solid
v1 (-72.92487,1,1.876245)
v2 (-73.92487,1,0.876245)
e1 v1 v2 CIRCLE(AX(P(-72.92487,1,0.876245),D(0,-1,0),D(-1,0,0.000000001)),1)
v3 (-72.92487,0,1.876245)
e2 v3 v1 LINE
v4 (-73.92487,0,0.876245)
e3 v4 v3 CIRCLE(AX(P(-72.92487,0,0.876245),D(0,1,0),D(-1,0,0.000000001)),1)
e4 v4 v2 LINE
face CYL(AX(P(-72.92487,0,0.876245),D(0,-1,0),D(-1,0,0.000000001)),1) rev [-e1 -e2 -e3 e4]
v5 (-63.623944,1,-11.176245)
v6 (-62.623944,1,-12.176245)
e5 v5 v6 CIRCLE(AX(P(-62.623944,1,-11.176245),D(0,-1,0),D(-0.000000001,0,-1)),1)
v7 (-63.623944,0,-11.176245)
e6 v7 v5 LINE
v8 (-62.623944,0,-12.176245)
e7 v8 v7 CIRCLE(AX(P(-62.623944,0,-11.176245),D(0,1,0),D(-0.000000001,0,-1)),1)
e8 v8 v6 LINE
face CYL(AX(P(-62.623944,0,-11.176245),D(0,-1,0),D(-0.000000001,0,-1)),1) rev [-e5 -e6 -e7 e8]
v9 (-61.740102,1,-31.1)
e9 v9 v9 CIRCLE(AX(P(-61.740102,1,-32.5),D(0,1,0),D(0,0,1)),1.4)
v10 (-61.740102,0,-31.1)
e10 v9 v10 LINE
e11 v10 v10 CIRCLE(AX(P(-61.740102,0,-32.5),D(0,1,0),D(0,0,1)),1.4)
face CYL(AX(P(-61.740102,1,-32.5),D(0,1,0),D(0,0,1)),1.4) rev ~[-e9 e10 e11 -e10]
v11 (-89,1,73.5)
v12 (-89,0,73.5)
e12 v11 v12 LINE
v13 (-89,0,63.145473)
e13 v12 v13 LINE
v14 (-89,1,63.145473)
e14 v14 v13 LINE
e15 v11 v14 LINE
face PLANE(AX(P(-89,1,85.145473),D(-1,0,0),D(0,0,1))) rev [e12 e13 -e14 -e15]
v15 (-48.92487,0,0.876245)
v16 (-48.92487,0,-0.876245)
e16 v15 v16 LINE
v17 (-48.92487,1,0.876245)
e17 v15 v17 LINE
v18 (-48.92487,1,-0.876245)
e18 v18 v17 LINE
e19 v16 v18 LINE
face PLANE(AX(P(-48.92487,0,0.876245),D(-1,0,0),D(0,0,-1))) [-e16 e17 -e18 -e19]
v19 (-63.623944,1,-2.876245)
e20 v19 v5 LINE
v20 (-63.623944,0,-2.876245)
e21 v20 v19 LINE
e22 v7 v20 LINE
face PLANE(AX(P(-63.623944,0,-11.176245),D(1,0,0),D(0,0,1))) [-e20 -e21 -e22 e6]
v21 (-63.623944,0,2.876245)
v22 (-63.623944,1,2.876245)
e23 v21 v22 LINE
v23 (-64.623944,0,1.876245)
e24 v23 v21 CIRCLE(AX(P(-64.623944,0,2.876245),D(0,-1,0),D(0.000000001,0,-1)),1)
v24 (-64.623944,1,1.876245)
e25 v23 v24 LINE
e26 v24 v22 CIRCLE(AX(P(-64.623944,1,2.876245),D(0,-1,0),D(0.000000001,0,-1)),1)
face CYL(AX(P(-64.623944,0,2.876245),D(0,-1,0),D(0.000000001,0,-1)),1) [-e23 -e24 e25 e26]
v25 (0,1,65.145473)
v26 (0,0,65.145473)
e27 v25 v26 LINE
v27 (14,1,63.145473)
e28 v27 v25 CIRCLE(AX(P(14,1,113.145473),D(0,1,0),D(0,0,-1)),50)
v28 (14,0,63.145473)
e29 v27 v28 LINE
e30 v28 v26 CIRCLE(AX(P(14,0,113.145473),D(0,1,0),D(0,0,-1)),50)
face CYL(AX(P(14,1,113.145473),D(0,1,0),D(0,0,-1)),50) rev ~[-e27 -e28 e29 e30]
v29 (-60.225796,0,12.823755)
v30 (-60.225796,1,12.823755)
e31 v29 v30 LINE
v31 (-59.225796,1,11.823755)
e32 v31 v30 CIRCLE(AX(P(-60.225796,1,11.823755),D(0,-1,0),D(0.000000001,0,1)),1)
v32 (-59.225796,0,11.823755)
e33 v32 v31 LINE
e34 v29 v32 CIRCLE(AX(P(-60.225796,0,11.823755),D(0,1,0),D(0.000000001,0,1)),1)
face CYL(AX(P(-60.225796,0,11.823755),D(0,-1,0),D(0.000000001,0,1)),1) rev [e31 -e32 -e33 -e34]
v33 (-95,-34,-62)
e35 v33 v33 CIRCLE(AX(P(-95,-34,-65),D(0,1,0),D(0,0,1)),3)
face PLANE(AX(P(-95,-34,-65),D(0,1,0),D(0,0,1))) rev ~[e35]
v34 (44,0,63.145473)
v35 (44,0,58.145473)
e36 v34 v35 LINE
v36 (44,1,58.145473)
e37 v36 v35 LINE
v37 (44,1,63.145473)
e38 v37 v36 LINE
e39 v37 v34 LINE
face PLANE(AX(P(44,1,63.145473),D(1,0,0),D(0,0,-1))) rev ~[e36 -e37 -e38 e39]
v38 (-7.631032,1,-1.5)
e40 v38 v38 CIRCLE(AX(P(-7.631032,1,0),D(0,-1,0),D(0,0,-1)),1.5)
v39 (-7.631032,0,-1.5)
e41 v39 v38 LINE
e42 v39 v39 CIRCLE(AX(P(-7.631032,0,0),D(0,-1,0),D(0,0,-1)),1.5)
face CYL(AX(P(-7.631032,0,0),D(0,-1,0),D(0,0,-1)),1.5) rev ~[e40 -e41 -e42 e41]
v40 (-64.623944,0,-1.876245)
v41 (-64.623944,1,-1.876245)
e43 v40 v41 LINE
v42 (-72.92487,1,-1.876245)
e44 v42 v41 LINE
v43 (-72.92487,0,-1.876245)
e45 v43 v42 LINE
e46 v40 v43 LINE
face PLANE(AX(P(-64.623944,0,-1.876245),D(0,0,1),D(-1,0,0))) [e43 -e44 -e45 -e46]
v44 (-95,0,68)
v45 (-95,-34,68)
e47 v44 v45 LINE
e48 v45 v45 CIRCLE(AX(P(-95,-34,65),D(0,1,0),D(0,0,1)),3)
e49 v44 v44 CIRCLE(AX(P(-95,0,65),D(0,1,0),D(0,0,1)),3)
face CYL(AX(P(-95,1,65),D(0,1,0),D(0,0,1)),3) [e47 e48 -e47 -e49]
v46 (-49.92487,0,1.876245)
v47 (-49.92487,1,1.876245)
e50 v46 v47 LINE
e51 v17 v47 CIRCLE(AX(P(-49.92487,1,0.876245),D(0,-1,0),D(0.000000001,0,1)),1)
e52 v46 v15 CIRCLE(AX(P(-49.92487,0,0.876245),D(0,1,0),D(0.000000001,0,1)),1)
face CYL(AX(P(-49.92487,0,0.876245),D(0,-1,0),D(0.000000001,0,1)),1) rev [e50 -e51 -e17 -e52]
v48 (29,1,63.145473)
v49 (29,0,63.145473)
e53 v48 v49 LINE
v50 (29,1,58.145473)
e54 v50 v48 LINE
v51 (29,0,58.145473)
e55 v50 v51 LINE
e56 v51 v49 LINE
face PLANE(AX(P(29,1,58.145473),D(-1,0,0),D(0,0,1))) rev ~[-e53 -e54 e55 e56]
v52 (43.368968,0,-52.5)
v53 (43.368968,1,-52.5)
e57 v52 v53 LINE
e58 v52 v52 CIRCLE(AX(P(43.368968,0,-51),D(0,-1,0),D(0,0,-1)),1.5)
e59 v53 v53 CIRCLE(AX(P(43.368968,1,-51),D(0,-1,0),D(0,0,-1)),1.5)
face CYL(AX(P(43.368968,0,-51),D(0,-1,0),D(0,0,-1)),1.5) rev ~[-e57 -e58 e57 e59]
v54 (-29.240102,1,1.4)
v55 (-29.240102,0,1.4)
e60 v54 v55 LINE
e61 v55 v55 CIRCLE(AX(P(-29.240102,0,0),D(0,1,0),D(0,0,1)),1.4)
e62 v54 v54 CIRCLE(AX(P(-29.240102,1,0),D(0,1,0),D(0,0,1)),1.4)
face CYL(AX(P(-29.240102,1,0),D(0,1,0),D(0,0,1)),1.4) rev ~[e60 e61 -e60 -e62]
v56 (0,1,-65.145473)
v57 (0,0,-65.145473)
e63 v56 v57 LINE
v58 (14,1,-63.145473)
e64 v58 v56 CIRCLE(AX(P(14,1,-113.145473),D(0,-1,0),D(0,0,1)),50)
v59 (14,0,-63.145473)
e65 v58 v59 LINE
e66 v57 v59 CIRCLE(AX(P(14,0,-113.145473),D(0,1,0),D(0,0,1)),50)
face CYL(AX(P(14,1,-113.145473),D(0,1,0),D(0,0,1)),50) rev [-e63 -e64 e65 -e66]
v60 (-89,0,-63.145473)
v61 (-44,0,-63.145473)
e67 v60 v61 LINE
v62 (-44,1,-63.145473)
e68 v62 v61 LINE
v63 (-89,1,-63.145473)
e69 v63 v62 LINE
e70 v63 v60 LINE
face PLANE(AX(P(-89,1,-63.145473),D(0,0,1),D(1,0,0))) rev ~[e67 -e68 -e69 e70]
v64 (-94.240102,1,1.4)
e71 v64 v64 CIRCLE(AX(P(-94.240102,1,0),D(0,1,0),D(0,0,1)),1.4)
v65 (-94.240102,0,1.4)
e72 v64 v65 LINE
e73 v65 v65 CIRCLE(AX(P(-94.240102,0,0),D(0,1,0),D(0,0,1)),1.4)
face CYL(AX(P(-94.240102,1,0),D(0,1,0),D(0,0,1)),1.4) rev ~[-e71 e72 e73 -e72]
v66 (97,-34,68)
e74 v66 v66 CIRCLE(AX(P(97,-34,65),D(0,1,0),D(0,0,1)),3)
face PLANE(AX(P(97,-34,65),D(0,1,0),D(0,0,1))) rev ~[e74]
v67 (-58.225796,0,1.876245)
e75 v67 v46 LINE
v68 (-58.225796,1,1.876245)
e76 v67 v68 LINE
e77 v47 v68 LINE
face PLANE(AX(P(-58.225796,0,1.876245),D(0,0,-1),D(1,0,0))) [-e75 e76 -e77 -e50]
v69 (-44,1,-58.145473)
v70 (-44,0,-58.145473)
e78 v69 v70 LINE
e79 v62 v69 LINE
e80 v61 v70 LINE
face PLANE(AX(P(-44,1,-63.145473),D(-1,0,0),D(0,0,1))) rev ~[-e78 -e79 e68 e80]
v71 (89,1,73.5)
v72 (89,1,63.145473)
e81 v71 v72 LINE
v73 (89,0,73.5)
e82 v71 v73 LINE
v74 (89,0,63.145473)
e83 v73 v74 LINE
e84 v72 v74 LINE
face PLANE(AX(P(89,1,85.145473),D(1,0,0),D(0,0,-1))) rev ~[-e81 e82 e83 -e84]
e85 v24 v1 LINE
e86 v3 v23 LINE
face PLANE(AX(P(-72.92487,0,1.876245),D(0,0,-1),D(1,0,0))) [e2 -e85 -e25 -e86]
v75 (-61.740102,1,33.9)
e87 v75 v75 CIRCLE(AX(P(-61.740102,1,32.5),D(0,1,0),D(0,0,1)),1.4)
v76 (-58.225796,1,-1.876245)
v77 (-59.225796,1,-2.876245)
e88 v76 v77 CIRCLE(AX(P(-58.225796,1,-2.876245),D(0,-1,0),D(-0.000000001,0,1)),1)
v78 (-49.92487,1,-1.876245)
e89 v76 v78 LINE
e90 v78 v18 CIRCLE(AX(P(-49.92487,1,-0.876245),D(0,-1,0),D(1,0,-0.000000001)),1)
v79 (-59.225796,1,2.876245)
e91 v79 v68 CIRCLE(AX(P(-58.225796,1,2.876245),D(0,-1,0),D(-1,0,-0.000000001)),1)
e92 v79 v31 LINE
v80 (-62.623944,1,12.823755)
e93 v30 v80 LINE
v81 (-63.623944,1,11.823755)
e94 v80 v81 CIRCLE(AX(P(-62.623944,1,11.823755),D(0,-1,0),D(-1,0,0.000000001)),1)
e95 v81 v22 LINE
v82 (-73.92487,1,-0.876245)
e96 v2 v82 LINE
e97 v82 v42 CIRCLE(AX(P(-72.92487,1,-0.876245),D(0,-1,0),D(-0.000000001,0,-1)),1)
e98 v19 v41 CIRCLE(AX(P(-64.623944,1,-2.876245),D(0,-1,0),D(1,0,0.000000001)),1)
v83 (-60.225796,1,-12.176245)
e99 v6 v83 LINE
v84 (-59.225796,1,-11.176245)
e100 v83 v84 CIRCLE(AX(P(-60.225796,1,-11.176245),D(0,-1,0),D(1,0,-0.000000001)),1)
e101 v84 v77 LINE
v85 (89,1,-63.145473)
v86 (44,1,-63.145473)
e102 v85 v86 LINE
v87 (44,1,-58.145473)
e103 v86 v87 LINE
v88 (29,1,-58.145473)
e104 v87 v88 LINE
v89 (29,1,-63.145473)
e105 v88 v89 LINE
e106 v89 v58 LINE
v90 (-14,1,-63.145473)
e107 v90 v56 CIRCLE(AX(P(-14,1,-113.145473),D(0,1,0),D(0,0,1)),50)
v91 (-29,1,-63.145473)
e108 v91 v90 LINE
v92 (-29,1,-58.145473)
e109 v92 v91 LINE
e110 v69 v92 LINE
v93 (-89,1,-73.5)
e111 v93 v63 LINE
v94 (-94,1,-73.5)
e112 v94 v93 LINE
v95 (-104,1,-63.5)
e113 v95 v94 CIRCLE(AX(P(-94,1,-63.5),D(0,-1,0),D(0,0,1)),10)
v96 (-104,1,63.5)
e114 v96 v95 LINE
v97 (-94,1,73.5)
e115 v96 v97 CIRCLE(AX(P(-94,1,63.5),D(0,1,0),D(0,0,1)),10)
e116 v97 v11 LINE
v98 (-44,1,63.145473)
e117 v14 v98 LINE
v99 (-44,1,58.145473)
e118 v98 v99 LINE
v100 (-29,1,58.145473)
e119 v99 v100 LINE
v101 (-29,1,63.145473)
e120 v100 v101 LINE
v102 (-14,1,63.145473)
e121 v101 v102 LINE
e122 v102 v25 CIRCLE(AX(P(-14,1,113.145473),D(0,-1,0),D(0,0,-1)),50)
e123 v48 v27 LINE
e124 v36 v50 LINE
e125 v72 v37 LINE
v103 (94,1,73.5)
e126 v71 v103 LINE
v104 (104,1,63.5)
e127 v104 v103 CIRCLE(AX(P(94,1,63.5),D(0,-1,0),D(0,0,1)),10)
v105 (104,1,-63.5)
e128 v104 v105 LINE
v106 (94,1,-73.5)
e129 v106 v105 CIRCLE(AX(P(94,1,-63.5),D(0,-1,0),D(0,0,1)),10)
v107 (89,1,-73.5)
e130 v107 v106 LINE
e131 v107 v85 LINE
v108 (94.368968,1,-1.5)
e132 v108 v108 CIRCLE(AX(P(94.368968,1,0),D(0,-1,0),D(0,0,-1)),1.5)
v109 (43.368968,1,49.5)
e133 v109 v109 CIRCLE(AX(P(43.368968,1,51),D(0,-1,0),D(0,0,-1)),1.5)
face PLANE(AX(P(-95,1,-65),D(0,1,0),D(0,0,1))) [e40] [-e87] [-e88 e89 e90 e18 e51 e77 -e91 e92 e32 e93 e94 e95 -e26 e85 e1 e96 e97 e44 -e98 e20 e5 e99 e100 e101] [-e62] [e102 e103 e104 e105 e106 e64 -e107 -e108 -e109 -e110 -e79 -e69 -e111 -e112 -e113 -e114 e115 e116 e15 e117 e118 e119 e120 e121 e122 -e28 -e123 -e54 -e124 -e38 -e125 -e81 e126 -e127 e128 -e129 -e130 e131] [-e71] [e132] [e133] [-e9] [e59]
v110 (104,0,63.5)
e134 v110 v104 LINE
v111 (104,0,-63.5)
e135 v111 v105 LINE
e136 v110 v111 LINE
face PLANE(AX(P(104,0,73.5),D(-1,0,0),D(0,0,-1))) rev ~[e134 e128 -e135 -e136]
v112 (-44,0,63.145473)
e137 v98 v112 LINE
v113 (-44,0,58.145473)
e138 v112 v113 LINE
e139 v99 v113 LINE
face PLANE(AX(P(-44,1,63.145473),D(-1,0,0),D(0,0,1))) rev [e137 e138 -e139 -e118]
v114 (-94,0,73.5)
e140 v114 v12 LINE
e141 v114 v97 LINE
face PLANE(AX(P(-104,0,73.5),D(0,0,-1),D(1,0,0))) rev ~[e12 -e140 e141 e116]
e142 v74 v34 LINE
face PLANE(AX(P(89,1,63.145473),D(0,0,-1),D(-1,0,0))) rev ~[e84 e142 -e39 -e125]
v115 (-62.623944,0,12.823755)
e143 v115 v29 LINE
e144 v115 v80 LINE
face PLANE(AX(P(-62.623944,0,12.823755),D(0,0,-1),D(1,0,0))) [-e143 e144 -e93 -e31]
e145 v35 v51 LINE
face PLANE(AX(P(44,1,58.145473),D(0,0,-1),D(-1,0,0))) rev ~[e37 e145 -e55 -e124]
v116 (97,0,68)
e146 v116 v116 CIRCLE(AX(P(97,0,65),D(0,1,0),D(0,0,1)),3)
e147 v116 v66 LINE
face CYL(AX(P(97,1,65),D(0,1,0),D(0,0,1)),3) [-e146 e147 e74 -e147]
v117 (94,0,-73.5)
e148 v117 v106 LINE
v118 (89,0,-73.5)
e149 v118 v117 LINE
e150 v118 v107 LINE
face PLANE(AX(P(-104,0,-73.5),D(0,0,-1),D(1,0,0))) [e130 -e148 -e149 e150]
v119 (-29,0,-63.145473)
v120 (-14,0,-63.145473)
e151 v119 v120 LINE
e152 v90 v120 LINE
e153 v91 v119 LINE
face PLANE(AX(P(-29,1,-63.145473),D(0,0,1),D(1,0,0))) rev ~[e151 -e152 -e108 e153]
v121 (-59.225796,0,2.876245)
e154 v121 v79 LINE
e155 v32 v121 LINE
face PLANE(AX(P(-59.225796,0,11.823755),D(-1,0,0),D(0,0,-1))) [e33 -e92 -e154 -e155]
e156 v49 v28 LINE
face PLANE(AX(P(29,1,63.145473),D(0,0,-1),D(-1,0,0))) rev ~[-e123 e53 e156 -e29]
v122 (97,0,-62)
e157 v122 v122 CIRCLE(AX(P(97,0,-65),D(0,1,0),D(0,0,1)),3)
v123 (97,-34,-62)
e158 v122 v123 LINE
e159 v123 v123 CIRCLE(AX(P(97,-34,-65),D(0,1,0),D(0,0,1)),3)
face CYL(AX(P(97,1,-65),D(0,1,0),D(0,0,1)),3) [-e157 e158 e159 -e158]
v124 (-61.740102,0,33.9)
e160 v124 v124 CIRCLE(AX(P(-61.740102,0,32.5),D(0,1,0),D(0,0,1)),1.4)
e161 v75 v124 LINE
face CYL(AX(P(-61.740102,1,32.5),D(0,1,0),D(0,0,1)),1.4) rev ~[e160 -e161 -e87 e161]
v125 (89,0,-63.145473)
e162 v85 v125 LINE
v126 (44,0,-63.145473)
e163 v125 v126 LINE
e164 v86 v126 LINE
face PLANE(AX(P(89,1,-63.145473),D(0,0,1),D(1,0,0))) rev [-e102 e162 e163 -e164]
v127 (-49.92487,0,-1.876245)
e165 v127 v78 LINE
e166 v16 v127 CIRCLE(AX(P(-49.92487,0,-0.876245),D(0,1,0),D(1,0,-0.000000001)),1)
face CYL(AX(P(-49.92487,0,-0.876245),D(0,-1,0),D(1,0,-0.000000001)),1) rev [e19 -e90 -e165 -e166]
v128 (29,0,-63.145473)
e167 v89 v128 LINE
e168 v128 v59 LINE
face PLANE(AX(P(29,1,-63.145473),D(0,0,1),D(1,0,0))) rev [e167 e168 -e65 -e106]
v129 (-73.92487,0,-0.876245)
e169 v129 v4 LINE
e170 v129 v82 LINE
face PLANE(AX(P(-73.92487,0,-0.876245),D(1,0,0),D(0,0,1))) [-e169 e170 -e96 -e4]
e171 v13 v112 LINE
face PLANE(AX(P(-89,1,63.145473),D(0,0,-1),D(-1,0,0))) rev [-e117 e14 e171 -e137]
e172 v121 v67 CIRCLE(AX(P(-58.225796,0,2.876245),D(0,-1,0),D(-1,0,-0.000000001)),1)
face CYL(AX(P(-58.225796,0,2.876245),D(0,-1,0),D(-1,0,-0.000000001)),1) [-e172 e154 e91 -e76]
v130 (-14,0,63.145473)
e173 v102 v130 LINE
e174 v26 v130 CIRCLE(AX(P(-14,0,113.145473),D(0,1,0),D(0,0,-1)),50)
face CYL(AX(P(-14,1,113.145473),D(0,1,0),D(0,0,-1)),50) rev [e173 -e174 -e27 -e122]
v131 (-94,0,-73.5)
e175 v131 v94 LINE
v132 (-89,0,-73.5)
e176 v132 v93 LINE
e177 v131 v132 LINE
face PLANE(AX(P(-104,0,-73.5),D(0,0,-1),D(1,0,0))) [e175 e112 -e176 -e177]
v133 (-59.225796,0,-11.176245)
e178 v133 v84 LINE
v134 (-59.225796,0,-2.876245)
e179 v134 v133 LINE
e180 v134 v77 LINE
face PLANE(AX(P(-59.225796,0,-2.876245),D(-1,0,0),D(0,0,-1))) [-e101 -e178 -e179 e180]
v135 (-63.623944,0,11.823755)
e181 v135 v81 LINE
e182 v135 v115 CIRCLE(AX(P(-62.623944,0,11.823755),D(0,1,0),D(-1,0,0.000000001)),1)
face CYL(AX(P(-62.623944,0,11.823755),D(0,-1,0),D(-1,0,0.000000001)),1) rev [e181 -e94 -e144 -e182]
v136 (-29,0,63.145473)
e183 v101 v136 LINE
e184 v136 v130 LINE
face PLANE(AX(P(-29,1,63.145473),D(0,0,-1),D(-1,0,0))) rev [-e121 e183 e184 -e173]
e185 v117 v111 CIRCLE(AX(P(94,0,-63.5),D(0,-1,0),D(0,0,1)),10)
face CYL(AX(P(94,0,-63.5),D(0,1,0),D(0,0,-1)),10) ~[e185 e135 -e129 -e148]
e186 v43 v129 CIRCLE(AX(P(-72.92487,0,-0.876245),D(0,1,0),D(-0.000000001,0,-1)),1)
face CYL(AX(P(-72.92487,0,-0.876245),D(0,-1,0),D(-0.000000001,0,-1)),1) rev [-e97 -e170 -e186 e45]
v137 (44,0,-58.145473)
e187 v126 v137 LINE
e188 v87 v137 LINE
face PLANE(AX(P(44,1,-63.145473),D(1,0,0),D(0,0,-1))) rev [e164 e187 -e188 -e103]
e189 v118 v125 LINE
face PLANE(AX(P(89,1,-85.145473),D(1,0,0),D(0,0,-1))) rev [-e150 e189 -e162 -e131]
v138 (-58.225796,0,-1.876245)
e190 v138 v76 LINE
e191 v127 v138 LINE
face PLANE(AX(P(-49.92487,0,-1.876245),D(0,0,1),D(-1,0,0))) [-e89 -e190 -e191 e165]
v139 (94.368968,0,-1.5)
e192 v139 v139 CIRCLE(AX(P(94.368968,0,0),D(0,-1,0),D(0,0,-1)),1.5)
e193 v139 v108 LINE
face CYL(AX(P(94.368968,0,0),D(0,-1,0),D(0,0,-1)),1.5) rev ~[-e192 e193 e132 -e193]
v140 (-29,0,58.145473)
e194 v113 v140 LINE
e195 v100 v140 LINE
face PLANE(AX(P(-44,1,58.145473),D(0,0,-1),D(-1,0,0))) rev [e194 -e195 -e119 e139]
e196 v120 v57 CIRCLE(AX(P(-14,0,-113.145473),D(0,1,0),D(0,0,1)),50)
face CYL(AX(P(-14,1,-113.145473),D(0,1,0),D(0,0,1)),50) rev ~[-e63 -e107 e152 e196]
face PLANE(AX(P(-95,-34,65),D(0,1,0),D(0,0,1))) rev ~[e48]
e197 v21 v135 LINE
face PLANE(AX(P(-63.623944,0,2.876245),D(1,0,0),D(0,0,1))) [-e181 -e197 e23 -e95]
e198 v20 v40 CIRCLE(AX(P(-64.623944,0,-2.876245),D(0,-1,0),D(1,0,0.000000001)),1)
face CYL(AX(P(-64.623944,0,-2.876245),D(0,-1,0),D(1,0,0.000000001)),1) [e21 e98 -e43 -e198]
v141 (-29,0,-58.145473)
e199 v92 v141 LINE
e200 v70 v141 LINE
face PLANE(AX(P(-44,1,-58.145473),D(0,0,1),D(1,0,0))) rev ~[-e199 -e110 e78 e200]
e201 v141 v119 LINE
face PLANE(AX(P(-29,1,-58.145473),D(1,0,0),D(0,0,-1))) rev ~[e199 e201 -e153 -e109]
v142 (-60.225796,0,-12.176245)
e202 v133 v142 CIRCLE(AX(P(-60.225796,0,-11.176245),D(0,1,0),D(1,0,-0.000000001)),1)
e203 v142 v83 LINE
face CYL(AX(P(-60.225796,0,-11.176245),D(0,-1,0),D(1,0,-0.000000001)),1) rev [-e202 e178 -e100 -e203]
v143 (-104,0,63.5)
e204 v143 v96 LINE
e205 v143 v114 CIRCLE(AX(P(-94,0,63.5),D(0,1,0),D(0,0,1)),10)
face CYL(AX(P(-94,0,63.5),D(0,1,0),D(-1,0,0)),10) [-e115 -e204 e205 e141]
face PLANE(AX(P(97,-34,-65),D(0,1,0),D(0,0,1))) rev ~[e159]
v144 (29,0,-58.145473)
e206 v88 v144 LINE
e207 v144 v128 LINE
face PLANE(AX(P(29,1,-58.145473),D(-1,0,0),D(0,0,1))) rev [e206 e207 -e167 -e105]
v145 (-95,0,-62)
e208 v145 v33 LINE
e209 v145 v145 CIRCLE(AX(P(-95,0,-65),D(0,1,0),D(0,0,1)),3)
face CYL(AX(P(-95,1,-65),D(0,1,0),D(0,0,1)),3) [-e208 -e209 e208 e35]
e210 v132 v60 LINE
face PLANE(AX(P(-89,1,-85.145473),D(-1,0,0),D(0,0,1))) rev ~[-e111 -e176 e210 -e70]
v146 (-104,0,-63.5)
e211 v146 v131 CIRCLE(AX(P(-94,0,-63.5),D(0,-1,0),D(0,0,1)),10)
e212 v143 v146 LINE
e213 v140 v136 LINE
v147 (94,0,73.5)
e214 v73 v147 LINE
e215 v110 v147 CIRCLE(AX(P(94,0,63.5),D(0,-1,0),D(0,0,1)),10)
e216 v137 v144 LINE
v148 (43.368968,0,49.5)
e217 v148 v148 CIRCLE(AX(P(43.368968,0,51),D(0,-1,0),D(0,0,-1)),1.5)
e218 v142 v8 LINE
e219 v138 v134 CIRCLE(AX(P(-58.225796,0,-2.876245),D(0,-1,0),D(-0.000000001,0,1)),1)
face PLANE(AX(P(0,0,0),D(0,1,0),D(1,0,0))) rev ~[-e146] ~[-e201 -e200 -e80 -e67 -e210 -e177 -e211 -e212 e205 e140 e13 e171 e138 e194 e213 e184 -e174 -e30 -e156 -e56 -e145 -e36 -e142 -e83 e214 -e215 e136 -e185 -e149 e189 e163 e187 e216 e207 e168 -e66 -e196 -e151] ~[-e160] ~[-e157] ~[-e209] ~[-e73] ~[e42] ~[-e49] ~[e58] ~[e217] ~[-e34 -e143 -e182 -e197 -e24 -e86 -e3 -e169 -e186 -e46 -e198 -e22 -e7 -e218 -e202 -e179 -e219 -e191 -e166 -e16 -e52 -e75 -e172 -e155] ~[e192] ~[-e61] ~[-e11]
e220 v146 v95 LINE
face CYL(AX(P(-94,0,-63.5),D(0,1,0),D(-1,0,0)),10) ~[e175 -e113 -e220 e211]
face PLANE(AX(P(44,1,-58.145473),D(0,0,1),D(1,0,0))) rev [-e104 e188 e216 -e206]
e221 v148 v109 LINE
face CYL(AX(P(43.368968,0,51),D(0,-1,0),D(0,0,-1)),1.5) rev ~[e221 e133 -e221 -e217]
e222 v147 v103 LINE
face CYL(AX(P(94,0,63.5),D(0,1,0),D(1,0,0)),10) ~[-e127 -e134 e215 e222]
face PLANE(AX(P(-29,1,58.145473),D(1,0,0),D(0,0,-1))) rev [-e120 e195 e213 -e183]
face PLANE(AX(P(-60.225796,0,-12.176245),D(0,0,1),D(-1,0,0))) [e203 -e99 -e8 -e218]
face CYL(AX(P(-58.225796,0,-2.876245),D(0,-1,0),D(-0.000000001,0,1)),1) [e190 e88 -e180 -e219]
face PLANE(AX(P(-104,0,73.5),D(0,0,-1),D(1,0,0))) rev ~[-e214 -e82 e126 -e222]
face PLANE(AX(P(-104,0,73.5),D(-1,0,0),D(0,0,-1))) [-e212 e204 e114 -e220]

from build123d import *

# Parameters (mm, degrees)
SKETCH1_W            = 208
SKETCH1_H            = 147
BOSS_EXTRUDE1_DEPTH  = 1
CUT_EXTRUDE1_DEPTH   = 128.354819304
MIRROR2_COPY_1_DEPTH = 128.354819304
FILLET1_R            = 10
CUT_EXTRUDE2_DEPTH   = 128.354819304
SKETCH7_R            = 1.5
CUT_EXTRUDE3_DEPTH   = 128.354819304
SKETCH8_R            = 3
BOSS_EXTRUDE3_DEPTH  = 35
SKETCH9_R            = 1.4
CUT_EXTRUDE4_DEPTH   = 60


with BuildPart() as part:
    # Sketch1 → Boss-Extrude1 (new body)
    with BuildSketch(Plane(origin=(0, 0, 0), x_dir=(1, 0, 0), z_dir=(0, 1, 0))):
        Rectangle(SKETCH1_W, SKETCH1_H)
    extrude(amount=BOSS_EXTRUDE1_DEPTH)

    # Sketch3 → Cut-Extrude1 (cut, through all)
    with BuildSketch(Plane(origin=(0, 1, 0), x_dir=(1, 0, 0), z_dir=(0, 1, 0))):
        with BuildLine():
            Line((-89, 83.145473262), (-89, 63.145473262))
            Line((-89, 63.145473262), (-44, 63.145473262))
            Line((-44, 63.145473262), (-44, 58.145473262))
            Line((-44, 58.145473262), (-29, 58.145473262))
            Line((-29, 58.145473262), (-29, 63.145473262))
            Line((-29, 63.145473262), (-14, 63.145473262))
            ThreePointArc((-14, 63.145473262), (-6.928932188, 63.647998579), (0, 65.145473262))
            Line((0, 65.145473262), (0, 85.145473262))
            Line((0, 85.145473262), (-89, 85.145473262))
            Line((-89, 85.145473262), (-89, 83.145473262))
        make_face()
    cut_extrude1 = extrude(amount=-CUT_EXTRUDE1_DEPTH, mode=Mode.SUBTRACT)

    # Mirror1: Cut-Extrude1 across plane
    add(cut_extrude1.mirror(Plane.XY), mode=Mode.SUBTRACT)

    # Mirror2: Cut-Extrude1 across plane
    add(cut_extrude1.mirror(Plane(origin=(0, 0, 0), x_dir=(0, 0, 1), z_dir=(1, 0, 0))), mode=Mode.SUBTRACT)

    # Mirror2 copy 1 sketch → Mirror2 copy 1 (cut, through all)
    with BuildSketch(Plane(origin=(0, 1, 0), x_dir=(-1, 0, 0), z_dir=(0, 1, 0))):
        with BuildLine():
            Line((-89, 83.145473262), (-89, 63.145473262))
            Line((-89, 63.145473262), (-44, 63.145473262))
            Line((-44, 63.145473262), (-44, 58.145473262))
            Line((-44, 58.145473262), (-29, 58.145473262))
            Line((-29, 58.145473262), (-29, 63.145473262))
            Line((-29, 63.145473262), (-14, 63.145473262))
            ThreePointArc((-14, 63.145473262), (-6.928932188, 63.647998579), (0, 65.145473262))
            Line((0, 65.145473262), (0, 85.145473262))
            Line((0, 85.145473262), (-89, 85.145473262))
            Line((-89, 85.145473262), (-89, 83.145473262))
        make_face()
    extrude(amount=-MIRROR2_COPY_1_DEPTH, mode=Mode.SUBTRACT)

    # Fillet1
    fillet1_edges = [part.edges().sort_by_distance(p)[0] for p in [
        (104, 0.5, 73.5),
        (-104, 0.5, 73.5),
        (-104, 0.5, -73.5),
        (104, 0.5, -73.5),
    ]]
    fillet(fillet1_edges, radius=FILLET1_R)

    # Sketch4 → Cut-Extrude2 (cut, through all)
    with BuildSketch(Plane.XZ):
        with BuildLine():
            Line((-58.225796132, 1.876244538), (-49.924870206, 1.876244538))
            ThreePointArc((-49.924870206, 1.876244538), (-49.217763425, 1.583351319), (-48.924870206, 0.876244538))
            Line((-48.924870206, 0.876244538), (-48.924870206, -0.876244538))
            ThreePointArc((-48.924870206, -0.876244538), (-49.217763425, -1.583351319), (-49.924870206, -1.876244538))
            Line((-49.924870206, -1.876244538), (-58.225796132, -1.876244538))
            ThreePointArc((-58.225796132, -1.876244538), (-58.932902913, -2.169137757), (-59.225796132, -2.876244538))
            Line((-59.225796132, -2.876244538), (-59.225796132, -11.176244538))
            ThreePointArc((-59.225796132, -11.176244538), (-59.518689351, -11.883351319), (-60.225796132, -12.176244538))
            Line((-60.225796132, -12.176244538), (-62.62394428, -12.176244538))
            ThreePointArc((-62.62394428, -12.176244538), (-63.331051061, -11.883351319), (-63.62394428, -11.176244538))
            Line((-63.62394428, -11.176244538), (-63.62394428, -2.876244538))
            ThreePointArc((-63.62394428, -2.876244538), (-63.916837499, -2.169137757), (-64.62394428, -1.876244538))
            Line((-64.62394428, -1.876244538), (-72.924870206, -1.876244538))
            ThreePointArc((-72.924870206, -1.876244538), (-73.631976987, -1.583351319), (-73.924870206, -0.876244538))
            Line((-73.924870206, -0.876244538), (-73.924870206, 0.876244538))
            ThreePointArc((-73.924870206, 0.876244538), (-73.631976987, 1.583351319), (-72.924870206, 1.876244538))
            Line((-72.924870206, 1.876244538), (-64.62394428, 1.876244538))
            ThreePointArc((-64.62394428, 1.876244538), (-63.916837499, 2.169137757), (-63.62394428, 2.876244538))
            Line((-63.62394428, 2.876244538), (-63.62394428, 11.823755462))
            ThreePointArc((-63.62394428, 11.823755462), (-63.331051061, 12.530862243), (-62.62394428, 12.823755462))
            Line((-62.62394428, 12.823755462), (-60.225796132, 12.823755462))
            ThreePointArc((-60.225796132, 12.823755462), (-59.518689351, 12.530862243), (-59.225796132, 11.823755462))
            Line((-59.225796132, 11.823755462), (-59.225796132, 2.876244538))
            ThreePointArc((-59.225796132, 2.876244538), (-58.932902913, 2.169137757), (-58.225796132, 1.876244538))
        make_face()
    extrude(amount=-CUT_EXTRUDE2_DEPTH, mode=Mode.SUBTRACT)

    # Sketch7 → Cut-Extrude3 (cut, through all)
    with BuildSketch(Plane.XZ):
        with Locations(Location((43.368968207, 51, 0), (0, 0, 270))):
            Circle(SKETCH7_R)
        with Locations(Location((-7.631031793, 0, 0), (0, 0, 270))):
            Circle(SKETCH7_R)
        with Locations(Location((94.368968207, 0, 0), (0, 0, 270))):
            Circle(SKETCH7_R)
        with Locations(Location((43.368968207, -51, 0), (0, 0, 270))):
            Circle(SKETCH7_R)
    extrude(amount=-CUT_EXTRUDE3_DEPTH, mode=Mode.SUBTRACT)

    # Sketch8 → Boss-Extrude3 (add)
    with BuildSketch(Plane(origin=(0, 1, 0), x_dir=(1, 0, 0), z_dir=(0, 1, 0))):
        with Locations(Location((-95, 65, 0), (0, 0, 270))):
            Circle(SKETCH8_R)
        with Locations(Location((-95, -65, 0), (0, 0, 270))):
            Circle(SKETCH8_R)
        with Locations(Location((97, -65, 0), (0, 0, 270))):
            Circle(SKETCH8_R)
        with Locations(Location((97, 65, 0), (0, 0, 270))):
            Circle(SKETCH8_R)
    extrude(amount=-BOSS_EXTRUDE3_DEPTH)

    # Sketch9 → Cut-Extrude4 (cut)
    with BuildSketch(Plane(origin=(0, 1, 0), x_dir=(1, 0, 0), z_dir=(0, 1, 0))):
        with Locations(Location((-61.740102401, 32.5, 0), (0, 0, 270))):
            Circle(SKETCH9_R)
        with Locations(Location((-94.240102401, 0, 0), (0, 0, 270))):
            Circle(SKETCH9_R)
        with Locations(Location((-61.740102401, -32.5, 0), (0, 0, 270))):
            Circle(SKETCH9_R)
        with Locations(Location((-29.240102401, 0, 0), (0, 0, 270))):
            Circle(SKETCH9_R)
    extrude(amount=-CUT_EXTRUDE4_DEPTH, mode=Mode.SUBTRACT)


solid = part.part
